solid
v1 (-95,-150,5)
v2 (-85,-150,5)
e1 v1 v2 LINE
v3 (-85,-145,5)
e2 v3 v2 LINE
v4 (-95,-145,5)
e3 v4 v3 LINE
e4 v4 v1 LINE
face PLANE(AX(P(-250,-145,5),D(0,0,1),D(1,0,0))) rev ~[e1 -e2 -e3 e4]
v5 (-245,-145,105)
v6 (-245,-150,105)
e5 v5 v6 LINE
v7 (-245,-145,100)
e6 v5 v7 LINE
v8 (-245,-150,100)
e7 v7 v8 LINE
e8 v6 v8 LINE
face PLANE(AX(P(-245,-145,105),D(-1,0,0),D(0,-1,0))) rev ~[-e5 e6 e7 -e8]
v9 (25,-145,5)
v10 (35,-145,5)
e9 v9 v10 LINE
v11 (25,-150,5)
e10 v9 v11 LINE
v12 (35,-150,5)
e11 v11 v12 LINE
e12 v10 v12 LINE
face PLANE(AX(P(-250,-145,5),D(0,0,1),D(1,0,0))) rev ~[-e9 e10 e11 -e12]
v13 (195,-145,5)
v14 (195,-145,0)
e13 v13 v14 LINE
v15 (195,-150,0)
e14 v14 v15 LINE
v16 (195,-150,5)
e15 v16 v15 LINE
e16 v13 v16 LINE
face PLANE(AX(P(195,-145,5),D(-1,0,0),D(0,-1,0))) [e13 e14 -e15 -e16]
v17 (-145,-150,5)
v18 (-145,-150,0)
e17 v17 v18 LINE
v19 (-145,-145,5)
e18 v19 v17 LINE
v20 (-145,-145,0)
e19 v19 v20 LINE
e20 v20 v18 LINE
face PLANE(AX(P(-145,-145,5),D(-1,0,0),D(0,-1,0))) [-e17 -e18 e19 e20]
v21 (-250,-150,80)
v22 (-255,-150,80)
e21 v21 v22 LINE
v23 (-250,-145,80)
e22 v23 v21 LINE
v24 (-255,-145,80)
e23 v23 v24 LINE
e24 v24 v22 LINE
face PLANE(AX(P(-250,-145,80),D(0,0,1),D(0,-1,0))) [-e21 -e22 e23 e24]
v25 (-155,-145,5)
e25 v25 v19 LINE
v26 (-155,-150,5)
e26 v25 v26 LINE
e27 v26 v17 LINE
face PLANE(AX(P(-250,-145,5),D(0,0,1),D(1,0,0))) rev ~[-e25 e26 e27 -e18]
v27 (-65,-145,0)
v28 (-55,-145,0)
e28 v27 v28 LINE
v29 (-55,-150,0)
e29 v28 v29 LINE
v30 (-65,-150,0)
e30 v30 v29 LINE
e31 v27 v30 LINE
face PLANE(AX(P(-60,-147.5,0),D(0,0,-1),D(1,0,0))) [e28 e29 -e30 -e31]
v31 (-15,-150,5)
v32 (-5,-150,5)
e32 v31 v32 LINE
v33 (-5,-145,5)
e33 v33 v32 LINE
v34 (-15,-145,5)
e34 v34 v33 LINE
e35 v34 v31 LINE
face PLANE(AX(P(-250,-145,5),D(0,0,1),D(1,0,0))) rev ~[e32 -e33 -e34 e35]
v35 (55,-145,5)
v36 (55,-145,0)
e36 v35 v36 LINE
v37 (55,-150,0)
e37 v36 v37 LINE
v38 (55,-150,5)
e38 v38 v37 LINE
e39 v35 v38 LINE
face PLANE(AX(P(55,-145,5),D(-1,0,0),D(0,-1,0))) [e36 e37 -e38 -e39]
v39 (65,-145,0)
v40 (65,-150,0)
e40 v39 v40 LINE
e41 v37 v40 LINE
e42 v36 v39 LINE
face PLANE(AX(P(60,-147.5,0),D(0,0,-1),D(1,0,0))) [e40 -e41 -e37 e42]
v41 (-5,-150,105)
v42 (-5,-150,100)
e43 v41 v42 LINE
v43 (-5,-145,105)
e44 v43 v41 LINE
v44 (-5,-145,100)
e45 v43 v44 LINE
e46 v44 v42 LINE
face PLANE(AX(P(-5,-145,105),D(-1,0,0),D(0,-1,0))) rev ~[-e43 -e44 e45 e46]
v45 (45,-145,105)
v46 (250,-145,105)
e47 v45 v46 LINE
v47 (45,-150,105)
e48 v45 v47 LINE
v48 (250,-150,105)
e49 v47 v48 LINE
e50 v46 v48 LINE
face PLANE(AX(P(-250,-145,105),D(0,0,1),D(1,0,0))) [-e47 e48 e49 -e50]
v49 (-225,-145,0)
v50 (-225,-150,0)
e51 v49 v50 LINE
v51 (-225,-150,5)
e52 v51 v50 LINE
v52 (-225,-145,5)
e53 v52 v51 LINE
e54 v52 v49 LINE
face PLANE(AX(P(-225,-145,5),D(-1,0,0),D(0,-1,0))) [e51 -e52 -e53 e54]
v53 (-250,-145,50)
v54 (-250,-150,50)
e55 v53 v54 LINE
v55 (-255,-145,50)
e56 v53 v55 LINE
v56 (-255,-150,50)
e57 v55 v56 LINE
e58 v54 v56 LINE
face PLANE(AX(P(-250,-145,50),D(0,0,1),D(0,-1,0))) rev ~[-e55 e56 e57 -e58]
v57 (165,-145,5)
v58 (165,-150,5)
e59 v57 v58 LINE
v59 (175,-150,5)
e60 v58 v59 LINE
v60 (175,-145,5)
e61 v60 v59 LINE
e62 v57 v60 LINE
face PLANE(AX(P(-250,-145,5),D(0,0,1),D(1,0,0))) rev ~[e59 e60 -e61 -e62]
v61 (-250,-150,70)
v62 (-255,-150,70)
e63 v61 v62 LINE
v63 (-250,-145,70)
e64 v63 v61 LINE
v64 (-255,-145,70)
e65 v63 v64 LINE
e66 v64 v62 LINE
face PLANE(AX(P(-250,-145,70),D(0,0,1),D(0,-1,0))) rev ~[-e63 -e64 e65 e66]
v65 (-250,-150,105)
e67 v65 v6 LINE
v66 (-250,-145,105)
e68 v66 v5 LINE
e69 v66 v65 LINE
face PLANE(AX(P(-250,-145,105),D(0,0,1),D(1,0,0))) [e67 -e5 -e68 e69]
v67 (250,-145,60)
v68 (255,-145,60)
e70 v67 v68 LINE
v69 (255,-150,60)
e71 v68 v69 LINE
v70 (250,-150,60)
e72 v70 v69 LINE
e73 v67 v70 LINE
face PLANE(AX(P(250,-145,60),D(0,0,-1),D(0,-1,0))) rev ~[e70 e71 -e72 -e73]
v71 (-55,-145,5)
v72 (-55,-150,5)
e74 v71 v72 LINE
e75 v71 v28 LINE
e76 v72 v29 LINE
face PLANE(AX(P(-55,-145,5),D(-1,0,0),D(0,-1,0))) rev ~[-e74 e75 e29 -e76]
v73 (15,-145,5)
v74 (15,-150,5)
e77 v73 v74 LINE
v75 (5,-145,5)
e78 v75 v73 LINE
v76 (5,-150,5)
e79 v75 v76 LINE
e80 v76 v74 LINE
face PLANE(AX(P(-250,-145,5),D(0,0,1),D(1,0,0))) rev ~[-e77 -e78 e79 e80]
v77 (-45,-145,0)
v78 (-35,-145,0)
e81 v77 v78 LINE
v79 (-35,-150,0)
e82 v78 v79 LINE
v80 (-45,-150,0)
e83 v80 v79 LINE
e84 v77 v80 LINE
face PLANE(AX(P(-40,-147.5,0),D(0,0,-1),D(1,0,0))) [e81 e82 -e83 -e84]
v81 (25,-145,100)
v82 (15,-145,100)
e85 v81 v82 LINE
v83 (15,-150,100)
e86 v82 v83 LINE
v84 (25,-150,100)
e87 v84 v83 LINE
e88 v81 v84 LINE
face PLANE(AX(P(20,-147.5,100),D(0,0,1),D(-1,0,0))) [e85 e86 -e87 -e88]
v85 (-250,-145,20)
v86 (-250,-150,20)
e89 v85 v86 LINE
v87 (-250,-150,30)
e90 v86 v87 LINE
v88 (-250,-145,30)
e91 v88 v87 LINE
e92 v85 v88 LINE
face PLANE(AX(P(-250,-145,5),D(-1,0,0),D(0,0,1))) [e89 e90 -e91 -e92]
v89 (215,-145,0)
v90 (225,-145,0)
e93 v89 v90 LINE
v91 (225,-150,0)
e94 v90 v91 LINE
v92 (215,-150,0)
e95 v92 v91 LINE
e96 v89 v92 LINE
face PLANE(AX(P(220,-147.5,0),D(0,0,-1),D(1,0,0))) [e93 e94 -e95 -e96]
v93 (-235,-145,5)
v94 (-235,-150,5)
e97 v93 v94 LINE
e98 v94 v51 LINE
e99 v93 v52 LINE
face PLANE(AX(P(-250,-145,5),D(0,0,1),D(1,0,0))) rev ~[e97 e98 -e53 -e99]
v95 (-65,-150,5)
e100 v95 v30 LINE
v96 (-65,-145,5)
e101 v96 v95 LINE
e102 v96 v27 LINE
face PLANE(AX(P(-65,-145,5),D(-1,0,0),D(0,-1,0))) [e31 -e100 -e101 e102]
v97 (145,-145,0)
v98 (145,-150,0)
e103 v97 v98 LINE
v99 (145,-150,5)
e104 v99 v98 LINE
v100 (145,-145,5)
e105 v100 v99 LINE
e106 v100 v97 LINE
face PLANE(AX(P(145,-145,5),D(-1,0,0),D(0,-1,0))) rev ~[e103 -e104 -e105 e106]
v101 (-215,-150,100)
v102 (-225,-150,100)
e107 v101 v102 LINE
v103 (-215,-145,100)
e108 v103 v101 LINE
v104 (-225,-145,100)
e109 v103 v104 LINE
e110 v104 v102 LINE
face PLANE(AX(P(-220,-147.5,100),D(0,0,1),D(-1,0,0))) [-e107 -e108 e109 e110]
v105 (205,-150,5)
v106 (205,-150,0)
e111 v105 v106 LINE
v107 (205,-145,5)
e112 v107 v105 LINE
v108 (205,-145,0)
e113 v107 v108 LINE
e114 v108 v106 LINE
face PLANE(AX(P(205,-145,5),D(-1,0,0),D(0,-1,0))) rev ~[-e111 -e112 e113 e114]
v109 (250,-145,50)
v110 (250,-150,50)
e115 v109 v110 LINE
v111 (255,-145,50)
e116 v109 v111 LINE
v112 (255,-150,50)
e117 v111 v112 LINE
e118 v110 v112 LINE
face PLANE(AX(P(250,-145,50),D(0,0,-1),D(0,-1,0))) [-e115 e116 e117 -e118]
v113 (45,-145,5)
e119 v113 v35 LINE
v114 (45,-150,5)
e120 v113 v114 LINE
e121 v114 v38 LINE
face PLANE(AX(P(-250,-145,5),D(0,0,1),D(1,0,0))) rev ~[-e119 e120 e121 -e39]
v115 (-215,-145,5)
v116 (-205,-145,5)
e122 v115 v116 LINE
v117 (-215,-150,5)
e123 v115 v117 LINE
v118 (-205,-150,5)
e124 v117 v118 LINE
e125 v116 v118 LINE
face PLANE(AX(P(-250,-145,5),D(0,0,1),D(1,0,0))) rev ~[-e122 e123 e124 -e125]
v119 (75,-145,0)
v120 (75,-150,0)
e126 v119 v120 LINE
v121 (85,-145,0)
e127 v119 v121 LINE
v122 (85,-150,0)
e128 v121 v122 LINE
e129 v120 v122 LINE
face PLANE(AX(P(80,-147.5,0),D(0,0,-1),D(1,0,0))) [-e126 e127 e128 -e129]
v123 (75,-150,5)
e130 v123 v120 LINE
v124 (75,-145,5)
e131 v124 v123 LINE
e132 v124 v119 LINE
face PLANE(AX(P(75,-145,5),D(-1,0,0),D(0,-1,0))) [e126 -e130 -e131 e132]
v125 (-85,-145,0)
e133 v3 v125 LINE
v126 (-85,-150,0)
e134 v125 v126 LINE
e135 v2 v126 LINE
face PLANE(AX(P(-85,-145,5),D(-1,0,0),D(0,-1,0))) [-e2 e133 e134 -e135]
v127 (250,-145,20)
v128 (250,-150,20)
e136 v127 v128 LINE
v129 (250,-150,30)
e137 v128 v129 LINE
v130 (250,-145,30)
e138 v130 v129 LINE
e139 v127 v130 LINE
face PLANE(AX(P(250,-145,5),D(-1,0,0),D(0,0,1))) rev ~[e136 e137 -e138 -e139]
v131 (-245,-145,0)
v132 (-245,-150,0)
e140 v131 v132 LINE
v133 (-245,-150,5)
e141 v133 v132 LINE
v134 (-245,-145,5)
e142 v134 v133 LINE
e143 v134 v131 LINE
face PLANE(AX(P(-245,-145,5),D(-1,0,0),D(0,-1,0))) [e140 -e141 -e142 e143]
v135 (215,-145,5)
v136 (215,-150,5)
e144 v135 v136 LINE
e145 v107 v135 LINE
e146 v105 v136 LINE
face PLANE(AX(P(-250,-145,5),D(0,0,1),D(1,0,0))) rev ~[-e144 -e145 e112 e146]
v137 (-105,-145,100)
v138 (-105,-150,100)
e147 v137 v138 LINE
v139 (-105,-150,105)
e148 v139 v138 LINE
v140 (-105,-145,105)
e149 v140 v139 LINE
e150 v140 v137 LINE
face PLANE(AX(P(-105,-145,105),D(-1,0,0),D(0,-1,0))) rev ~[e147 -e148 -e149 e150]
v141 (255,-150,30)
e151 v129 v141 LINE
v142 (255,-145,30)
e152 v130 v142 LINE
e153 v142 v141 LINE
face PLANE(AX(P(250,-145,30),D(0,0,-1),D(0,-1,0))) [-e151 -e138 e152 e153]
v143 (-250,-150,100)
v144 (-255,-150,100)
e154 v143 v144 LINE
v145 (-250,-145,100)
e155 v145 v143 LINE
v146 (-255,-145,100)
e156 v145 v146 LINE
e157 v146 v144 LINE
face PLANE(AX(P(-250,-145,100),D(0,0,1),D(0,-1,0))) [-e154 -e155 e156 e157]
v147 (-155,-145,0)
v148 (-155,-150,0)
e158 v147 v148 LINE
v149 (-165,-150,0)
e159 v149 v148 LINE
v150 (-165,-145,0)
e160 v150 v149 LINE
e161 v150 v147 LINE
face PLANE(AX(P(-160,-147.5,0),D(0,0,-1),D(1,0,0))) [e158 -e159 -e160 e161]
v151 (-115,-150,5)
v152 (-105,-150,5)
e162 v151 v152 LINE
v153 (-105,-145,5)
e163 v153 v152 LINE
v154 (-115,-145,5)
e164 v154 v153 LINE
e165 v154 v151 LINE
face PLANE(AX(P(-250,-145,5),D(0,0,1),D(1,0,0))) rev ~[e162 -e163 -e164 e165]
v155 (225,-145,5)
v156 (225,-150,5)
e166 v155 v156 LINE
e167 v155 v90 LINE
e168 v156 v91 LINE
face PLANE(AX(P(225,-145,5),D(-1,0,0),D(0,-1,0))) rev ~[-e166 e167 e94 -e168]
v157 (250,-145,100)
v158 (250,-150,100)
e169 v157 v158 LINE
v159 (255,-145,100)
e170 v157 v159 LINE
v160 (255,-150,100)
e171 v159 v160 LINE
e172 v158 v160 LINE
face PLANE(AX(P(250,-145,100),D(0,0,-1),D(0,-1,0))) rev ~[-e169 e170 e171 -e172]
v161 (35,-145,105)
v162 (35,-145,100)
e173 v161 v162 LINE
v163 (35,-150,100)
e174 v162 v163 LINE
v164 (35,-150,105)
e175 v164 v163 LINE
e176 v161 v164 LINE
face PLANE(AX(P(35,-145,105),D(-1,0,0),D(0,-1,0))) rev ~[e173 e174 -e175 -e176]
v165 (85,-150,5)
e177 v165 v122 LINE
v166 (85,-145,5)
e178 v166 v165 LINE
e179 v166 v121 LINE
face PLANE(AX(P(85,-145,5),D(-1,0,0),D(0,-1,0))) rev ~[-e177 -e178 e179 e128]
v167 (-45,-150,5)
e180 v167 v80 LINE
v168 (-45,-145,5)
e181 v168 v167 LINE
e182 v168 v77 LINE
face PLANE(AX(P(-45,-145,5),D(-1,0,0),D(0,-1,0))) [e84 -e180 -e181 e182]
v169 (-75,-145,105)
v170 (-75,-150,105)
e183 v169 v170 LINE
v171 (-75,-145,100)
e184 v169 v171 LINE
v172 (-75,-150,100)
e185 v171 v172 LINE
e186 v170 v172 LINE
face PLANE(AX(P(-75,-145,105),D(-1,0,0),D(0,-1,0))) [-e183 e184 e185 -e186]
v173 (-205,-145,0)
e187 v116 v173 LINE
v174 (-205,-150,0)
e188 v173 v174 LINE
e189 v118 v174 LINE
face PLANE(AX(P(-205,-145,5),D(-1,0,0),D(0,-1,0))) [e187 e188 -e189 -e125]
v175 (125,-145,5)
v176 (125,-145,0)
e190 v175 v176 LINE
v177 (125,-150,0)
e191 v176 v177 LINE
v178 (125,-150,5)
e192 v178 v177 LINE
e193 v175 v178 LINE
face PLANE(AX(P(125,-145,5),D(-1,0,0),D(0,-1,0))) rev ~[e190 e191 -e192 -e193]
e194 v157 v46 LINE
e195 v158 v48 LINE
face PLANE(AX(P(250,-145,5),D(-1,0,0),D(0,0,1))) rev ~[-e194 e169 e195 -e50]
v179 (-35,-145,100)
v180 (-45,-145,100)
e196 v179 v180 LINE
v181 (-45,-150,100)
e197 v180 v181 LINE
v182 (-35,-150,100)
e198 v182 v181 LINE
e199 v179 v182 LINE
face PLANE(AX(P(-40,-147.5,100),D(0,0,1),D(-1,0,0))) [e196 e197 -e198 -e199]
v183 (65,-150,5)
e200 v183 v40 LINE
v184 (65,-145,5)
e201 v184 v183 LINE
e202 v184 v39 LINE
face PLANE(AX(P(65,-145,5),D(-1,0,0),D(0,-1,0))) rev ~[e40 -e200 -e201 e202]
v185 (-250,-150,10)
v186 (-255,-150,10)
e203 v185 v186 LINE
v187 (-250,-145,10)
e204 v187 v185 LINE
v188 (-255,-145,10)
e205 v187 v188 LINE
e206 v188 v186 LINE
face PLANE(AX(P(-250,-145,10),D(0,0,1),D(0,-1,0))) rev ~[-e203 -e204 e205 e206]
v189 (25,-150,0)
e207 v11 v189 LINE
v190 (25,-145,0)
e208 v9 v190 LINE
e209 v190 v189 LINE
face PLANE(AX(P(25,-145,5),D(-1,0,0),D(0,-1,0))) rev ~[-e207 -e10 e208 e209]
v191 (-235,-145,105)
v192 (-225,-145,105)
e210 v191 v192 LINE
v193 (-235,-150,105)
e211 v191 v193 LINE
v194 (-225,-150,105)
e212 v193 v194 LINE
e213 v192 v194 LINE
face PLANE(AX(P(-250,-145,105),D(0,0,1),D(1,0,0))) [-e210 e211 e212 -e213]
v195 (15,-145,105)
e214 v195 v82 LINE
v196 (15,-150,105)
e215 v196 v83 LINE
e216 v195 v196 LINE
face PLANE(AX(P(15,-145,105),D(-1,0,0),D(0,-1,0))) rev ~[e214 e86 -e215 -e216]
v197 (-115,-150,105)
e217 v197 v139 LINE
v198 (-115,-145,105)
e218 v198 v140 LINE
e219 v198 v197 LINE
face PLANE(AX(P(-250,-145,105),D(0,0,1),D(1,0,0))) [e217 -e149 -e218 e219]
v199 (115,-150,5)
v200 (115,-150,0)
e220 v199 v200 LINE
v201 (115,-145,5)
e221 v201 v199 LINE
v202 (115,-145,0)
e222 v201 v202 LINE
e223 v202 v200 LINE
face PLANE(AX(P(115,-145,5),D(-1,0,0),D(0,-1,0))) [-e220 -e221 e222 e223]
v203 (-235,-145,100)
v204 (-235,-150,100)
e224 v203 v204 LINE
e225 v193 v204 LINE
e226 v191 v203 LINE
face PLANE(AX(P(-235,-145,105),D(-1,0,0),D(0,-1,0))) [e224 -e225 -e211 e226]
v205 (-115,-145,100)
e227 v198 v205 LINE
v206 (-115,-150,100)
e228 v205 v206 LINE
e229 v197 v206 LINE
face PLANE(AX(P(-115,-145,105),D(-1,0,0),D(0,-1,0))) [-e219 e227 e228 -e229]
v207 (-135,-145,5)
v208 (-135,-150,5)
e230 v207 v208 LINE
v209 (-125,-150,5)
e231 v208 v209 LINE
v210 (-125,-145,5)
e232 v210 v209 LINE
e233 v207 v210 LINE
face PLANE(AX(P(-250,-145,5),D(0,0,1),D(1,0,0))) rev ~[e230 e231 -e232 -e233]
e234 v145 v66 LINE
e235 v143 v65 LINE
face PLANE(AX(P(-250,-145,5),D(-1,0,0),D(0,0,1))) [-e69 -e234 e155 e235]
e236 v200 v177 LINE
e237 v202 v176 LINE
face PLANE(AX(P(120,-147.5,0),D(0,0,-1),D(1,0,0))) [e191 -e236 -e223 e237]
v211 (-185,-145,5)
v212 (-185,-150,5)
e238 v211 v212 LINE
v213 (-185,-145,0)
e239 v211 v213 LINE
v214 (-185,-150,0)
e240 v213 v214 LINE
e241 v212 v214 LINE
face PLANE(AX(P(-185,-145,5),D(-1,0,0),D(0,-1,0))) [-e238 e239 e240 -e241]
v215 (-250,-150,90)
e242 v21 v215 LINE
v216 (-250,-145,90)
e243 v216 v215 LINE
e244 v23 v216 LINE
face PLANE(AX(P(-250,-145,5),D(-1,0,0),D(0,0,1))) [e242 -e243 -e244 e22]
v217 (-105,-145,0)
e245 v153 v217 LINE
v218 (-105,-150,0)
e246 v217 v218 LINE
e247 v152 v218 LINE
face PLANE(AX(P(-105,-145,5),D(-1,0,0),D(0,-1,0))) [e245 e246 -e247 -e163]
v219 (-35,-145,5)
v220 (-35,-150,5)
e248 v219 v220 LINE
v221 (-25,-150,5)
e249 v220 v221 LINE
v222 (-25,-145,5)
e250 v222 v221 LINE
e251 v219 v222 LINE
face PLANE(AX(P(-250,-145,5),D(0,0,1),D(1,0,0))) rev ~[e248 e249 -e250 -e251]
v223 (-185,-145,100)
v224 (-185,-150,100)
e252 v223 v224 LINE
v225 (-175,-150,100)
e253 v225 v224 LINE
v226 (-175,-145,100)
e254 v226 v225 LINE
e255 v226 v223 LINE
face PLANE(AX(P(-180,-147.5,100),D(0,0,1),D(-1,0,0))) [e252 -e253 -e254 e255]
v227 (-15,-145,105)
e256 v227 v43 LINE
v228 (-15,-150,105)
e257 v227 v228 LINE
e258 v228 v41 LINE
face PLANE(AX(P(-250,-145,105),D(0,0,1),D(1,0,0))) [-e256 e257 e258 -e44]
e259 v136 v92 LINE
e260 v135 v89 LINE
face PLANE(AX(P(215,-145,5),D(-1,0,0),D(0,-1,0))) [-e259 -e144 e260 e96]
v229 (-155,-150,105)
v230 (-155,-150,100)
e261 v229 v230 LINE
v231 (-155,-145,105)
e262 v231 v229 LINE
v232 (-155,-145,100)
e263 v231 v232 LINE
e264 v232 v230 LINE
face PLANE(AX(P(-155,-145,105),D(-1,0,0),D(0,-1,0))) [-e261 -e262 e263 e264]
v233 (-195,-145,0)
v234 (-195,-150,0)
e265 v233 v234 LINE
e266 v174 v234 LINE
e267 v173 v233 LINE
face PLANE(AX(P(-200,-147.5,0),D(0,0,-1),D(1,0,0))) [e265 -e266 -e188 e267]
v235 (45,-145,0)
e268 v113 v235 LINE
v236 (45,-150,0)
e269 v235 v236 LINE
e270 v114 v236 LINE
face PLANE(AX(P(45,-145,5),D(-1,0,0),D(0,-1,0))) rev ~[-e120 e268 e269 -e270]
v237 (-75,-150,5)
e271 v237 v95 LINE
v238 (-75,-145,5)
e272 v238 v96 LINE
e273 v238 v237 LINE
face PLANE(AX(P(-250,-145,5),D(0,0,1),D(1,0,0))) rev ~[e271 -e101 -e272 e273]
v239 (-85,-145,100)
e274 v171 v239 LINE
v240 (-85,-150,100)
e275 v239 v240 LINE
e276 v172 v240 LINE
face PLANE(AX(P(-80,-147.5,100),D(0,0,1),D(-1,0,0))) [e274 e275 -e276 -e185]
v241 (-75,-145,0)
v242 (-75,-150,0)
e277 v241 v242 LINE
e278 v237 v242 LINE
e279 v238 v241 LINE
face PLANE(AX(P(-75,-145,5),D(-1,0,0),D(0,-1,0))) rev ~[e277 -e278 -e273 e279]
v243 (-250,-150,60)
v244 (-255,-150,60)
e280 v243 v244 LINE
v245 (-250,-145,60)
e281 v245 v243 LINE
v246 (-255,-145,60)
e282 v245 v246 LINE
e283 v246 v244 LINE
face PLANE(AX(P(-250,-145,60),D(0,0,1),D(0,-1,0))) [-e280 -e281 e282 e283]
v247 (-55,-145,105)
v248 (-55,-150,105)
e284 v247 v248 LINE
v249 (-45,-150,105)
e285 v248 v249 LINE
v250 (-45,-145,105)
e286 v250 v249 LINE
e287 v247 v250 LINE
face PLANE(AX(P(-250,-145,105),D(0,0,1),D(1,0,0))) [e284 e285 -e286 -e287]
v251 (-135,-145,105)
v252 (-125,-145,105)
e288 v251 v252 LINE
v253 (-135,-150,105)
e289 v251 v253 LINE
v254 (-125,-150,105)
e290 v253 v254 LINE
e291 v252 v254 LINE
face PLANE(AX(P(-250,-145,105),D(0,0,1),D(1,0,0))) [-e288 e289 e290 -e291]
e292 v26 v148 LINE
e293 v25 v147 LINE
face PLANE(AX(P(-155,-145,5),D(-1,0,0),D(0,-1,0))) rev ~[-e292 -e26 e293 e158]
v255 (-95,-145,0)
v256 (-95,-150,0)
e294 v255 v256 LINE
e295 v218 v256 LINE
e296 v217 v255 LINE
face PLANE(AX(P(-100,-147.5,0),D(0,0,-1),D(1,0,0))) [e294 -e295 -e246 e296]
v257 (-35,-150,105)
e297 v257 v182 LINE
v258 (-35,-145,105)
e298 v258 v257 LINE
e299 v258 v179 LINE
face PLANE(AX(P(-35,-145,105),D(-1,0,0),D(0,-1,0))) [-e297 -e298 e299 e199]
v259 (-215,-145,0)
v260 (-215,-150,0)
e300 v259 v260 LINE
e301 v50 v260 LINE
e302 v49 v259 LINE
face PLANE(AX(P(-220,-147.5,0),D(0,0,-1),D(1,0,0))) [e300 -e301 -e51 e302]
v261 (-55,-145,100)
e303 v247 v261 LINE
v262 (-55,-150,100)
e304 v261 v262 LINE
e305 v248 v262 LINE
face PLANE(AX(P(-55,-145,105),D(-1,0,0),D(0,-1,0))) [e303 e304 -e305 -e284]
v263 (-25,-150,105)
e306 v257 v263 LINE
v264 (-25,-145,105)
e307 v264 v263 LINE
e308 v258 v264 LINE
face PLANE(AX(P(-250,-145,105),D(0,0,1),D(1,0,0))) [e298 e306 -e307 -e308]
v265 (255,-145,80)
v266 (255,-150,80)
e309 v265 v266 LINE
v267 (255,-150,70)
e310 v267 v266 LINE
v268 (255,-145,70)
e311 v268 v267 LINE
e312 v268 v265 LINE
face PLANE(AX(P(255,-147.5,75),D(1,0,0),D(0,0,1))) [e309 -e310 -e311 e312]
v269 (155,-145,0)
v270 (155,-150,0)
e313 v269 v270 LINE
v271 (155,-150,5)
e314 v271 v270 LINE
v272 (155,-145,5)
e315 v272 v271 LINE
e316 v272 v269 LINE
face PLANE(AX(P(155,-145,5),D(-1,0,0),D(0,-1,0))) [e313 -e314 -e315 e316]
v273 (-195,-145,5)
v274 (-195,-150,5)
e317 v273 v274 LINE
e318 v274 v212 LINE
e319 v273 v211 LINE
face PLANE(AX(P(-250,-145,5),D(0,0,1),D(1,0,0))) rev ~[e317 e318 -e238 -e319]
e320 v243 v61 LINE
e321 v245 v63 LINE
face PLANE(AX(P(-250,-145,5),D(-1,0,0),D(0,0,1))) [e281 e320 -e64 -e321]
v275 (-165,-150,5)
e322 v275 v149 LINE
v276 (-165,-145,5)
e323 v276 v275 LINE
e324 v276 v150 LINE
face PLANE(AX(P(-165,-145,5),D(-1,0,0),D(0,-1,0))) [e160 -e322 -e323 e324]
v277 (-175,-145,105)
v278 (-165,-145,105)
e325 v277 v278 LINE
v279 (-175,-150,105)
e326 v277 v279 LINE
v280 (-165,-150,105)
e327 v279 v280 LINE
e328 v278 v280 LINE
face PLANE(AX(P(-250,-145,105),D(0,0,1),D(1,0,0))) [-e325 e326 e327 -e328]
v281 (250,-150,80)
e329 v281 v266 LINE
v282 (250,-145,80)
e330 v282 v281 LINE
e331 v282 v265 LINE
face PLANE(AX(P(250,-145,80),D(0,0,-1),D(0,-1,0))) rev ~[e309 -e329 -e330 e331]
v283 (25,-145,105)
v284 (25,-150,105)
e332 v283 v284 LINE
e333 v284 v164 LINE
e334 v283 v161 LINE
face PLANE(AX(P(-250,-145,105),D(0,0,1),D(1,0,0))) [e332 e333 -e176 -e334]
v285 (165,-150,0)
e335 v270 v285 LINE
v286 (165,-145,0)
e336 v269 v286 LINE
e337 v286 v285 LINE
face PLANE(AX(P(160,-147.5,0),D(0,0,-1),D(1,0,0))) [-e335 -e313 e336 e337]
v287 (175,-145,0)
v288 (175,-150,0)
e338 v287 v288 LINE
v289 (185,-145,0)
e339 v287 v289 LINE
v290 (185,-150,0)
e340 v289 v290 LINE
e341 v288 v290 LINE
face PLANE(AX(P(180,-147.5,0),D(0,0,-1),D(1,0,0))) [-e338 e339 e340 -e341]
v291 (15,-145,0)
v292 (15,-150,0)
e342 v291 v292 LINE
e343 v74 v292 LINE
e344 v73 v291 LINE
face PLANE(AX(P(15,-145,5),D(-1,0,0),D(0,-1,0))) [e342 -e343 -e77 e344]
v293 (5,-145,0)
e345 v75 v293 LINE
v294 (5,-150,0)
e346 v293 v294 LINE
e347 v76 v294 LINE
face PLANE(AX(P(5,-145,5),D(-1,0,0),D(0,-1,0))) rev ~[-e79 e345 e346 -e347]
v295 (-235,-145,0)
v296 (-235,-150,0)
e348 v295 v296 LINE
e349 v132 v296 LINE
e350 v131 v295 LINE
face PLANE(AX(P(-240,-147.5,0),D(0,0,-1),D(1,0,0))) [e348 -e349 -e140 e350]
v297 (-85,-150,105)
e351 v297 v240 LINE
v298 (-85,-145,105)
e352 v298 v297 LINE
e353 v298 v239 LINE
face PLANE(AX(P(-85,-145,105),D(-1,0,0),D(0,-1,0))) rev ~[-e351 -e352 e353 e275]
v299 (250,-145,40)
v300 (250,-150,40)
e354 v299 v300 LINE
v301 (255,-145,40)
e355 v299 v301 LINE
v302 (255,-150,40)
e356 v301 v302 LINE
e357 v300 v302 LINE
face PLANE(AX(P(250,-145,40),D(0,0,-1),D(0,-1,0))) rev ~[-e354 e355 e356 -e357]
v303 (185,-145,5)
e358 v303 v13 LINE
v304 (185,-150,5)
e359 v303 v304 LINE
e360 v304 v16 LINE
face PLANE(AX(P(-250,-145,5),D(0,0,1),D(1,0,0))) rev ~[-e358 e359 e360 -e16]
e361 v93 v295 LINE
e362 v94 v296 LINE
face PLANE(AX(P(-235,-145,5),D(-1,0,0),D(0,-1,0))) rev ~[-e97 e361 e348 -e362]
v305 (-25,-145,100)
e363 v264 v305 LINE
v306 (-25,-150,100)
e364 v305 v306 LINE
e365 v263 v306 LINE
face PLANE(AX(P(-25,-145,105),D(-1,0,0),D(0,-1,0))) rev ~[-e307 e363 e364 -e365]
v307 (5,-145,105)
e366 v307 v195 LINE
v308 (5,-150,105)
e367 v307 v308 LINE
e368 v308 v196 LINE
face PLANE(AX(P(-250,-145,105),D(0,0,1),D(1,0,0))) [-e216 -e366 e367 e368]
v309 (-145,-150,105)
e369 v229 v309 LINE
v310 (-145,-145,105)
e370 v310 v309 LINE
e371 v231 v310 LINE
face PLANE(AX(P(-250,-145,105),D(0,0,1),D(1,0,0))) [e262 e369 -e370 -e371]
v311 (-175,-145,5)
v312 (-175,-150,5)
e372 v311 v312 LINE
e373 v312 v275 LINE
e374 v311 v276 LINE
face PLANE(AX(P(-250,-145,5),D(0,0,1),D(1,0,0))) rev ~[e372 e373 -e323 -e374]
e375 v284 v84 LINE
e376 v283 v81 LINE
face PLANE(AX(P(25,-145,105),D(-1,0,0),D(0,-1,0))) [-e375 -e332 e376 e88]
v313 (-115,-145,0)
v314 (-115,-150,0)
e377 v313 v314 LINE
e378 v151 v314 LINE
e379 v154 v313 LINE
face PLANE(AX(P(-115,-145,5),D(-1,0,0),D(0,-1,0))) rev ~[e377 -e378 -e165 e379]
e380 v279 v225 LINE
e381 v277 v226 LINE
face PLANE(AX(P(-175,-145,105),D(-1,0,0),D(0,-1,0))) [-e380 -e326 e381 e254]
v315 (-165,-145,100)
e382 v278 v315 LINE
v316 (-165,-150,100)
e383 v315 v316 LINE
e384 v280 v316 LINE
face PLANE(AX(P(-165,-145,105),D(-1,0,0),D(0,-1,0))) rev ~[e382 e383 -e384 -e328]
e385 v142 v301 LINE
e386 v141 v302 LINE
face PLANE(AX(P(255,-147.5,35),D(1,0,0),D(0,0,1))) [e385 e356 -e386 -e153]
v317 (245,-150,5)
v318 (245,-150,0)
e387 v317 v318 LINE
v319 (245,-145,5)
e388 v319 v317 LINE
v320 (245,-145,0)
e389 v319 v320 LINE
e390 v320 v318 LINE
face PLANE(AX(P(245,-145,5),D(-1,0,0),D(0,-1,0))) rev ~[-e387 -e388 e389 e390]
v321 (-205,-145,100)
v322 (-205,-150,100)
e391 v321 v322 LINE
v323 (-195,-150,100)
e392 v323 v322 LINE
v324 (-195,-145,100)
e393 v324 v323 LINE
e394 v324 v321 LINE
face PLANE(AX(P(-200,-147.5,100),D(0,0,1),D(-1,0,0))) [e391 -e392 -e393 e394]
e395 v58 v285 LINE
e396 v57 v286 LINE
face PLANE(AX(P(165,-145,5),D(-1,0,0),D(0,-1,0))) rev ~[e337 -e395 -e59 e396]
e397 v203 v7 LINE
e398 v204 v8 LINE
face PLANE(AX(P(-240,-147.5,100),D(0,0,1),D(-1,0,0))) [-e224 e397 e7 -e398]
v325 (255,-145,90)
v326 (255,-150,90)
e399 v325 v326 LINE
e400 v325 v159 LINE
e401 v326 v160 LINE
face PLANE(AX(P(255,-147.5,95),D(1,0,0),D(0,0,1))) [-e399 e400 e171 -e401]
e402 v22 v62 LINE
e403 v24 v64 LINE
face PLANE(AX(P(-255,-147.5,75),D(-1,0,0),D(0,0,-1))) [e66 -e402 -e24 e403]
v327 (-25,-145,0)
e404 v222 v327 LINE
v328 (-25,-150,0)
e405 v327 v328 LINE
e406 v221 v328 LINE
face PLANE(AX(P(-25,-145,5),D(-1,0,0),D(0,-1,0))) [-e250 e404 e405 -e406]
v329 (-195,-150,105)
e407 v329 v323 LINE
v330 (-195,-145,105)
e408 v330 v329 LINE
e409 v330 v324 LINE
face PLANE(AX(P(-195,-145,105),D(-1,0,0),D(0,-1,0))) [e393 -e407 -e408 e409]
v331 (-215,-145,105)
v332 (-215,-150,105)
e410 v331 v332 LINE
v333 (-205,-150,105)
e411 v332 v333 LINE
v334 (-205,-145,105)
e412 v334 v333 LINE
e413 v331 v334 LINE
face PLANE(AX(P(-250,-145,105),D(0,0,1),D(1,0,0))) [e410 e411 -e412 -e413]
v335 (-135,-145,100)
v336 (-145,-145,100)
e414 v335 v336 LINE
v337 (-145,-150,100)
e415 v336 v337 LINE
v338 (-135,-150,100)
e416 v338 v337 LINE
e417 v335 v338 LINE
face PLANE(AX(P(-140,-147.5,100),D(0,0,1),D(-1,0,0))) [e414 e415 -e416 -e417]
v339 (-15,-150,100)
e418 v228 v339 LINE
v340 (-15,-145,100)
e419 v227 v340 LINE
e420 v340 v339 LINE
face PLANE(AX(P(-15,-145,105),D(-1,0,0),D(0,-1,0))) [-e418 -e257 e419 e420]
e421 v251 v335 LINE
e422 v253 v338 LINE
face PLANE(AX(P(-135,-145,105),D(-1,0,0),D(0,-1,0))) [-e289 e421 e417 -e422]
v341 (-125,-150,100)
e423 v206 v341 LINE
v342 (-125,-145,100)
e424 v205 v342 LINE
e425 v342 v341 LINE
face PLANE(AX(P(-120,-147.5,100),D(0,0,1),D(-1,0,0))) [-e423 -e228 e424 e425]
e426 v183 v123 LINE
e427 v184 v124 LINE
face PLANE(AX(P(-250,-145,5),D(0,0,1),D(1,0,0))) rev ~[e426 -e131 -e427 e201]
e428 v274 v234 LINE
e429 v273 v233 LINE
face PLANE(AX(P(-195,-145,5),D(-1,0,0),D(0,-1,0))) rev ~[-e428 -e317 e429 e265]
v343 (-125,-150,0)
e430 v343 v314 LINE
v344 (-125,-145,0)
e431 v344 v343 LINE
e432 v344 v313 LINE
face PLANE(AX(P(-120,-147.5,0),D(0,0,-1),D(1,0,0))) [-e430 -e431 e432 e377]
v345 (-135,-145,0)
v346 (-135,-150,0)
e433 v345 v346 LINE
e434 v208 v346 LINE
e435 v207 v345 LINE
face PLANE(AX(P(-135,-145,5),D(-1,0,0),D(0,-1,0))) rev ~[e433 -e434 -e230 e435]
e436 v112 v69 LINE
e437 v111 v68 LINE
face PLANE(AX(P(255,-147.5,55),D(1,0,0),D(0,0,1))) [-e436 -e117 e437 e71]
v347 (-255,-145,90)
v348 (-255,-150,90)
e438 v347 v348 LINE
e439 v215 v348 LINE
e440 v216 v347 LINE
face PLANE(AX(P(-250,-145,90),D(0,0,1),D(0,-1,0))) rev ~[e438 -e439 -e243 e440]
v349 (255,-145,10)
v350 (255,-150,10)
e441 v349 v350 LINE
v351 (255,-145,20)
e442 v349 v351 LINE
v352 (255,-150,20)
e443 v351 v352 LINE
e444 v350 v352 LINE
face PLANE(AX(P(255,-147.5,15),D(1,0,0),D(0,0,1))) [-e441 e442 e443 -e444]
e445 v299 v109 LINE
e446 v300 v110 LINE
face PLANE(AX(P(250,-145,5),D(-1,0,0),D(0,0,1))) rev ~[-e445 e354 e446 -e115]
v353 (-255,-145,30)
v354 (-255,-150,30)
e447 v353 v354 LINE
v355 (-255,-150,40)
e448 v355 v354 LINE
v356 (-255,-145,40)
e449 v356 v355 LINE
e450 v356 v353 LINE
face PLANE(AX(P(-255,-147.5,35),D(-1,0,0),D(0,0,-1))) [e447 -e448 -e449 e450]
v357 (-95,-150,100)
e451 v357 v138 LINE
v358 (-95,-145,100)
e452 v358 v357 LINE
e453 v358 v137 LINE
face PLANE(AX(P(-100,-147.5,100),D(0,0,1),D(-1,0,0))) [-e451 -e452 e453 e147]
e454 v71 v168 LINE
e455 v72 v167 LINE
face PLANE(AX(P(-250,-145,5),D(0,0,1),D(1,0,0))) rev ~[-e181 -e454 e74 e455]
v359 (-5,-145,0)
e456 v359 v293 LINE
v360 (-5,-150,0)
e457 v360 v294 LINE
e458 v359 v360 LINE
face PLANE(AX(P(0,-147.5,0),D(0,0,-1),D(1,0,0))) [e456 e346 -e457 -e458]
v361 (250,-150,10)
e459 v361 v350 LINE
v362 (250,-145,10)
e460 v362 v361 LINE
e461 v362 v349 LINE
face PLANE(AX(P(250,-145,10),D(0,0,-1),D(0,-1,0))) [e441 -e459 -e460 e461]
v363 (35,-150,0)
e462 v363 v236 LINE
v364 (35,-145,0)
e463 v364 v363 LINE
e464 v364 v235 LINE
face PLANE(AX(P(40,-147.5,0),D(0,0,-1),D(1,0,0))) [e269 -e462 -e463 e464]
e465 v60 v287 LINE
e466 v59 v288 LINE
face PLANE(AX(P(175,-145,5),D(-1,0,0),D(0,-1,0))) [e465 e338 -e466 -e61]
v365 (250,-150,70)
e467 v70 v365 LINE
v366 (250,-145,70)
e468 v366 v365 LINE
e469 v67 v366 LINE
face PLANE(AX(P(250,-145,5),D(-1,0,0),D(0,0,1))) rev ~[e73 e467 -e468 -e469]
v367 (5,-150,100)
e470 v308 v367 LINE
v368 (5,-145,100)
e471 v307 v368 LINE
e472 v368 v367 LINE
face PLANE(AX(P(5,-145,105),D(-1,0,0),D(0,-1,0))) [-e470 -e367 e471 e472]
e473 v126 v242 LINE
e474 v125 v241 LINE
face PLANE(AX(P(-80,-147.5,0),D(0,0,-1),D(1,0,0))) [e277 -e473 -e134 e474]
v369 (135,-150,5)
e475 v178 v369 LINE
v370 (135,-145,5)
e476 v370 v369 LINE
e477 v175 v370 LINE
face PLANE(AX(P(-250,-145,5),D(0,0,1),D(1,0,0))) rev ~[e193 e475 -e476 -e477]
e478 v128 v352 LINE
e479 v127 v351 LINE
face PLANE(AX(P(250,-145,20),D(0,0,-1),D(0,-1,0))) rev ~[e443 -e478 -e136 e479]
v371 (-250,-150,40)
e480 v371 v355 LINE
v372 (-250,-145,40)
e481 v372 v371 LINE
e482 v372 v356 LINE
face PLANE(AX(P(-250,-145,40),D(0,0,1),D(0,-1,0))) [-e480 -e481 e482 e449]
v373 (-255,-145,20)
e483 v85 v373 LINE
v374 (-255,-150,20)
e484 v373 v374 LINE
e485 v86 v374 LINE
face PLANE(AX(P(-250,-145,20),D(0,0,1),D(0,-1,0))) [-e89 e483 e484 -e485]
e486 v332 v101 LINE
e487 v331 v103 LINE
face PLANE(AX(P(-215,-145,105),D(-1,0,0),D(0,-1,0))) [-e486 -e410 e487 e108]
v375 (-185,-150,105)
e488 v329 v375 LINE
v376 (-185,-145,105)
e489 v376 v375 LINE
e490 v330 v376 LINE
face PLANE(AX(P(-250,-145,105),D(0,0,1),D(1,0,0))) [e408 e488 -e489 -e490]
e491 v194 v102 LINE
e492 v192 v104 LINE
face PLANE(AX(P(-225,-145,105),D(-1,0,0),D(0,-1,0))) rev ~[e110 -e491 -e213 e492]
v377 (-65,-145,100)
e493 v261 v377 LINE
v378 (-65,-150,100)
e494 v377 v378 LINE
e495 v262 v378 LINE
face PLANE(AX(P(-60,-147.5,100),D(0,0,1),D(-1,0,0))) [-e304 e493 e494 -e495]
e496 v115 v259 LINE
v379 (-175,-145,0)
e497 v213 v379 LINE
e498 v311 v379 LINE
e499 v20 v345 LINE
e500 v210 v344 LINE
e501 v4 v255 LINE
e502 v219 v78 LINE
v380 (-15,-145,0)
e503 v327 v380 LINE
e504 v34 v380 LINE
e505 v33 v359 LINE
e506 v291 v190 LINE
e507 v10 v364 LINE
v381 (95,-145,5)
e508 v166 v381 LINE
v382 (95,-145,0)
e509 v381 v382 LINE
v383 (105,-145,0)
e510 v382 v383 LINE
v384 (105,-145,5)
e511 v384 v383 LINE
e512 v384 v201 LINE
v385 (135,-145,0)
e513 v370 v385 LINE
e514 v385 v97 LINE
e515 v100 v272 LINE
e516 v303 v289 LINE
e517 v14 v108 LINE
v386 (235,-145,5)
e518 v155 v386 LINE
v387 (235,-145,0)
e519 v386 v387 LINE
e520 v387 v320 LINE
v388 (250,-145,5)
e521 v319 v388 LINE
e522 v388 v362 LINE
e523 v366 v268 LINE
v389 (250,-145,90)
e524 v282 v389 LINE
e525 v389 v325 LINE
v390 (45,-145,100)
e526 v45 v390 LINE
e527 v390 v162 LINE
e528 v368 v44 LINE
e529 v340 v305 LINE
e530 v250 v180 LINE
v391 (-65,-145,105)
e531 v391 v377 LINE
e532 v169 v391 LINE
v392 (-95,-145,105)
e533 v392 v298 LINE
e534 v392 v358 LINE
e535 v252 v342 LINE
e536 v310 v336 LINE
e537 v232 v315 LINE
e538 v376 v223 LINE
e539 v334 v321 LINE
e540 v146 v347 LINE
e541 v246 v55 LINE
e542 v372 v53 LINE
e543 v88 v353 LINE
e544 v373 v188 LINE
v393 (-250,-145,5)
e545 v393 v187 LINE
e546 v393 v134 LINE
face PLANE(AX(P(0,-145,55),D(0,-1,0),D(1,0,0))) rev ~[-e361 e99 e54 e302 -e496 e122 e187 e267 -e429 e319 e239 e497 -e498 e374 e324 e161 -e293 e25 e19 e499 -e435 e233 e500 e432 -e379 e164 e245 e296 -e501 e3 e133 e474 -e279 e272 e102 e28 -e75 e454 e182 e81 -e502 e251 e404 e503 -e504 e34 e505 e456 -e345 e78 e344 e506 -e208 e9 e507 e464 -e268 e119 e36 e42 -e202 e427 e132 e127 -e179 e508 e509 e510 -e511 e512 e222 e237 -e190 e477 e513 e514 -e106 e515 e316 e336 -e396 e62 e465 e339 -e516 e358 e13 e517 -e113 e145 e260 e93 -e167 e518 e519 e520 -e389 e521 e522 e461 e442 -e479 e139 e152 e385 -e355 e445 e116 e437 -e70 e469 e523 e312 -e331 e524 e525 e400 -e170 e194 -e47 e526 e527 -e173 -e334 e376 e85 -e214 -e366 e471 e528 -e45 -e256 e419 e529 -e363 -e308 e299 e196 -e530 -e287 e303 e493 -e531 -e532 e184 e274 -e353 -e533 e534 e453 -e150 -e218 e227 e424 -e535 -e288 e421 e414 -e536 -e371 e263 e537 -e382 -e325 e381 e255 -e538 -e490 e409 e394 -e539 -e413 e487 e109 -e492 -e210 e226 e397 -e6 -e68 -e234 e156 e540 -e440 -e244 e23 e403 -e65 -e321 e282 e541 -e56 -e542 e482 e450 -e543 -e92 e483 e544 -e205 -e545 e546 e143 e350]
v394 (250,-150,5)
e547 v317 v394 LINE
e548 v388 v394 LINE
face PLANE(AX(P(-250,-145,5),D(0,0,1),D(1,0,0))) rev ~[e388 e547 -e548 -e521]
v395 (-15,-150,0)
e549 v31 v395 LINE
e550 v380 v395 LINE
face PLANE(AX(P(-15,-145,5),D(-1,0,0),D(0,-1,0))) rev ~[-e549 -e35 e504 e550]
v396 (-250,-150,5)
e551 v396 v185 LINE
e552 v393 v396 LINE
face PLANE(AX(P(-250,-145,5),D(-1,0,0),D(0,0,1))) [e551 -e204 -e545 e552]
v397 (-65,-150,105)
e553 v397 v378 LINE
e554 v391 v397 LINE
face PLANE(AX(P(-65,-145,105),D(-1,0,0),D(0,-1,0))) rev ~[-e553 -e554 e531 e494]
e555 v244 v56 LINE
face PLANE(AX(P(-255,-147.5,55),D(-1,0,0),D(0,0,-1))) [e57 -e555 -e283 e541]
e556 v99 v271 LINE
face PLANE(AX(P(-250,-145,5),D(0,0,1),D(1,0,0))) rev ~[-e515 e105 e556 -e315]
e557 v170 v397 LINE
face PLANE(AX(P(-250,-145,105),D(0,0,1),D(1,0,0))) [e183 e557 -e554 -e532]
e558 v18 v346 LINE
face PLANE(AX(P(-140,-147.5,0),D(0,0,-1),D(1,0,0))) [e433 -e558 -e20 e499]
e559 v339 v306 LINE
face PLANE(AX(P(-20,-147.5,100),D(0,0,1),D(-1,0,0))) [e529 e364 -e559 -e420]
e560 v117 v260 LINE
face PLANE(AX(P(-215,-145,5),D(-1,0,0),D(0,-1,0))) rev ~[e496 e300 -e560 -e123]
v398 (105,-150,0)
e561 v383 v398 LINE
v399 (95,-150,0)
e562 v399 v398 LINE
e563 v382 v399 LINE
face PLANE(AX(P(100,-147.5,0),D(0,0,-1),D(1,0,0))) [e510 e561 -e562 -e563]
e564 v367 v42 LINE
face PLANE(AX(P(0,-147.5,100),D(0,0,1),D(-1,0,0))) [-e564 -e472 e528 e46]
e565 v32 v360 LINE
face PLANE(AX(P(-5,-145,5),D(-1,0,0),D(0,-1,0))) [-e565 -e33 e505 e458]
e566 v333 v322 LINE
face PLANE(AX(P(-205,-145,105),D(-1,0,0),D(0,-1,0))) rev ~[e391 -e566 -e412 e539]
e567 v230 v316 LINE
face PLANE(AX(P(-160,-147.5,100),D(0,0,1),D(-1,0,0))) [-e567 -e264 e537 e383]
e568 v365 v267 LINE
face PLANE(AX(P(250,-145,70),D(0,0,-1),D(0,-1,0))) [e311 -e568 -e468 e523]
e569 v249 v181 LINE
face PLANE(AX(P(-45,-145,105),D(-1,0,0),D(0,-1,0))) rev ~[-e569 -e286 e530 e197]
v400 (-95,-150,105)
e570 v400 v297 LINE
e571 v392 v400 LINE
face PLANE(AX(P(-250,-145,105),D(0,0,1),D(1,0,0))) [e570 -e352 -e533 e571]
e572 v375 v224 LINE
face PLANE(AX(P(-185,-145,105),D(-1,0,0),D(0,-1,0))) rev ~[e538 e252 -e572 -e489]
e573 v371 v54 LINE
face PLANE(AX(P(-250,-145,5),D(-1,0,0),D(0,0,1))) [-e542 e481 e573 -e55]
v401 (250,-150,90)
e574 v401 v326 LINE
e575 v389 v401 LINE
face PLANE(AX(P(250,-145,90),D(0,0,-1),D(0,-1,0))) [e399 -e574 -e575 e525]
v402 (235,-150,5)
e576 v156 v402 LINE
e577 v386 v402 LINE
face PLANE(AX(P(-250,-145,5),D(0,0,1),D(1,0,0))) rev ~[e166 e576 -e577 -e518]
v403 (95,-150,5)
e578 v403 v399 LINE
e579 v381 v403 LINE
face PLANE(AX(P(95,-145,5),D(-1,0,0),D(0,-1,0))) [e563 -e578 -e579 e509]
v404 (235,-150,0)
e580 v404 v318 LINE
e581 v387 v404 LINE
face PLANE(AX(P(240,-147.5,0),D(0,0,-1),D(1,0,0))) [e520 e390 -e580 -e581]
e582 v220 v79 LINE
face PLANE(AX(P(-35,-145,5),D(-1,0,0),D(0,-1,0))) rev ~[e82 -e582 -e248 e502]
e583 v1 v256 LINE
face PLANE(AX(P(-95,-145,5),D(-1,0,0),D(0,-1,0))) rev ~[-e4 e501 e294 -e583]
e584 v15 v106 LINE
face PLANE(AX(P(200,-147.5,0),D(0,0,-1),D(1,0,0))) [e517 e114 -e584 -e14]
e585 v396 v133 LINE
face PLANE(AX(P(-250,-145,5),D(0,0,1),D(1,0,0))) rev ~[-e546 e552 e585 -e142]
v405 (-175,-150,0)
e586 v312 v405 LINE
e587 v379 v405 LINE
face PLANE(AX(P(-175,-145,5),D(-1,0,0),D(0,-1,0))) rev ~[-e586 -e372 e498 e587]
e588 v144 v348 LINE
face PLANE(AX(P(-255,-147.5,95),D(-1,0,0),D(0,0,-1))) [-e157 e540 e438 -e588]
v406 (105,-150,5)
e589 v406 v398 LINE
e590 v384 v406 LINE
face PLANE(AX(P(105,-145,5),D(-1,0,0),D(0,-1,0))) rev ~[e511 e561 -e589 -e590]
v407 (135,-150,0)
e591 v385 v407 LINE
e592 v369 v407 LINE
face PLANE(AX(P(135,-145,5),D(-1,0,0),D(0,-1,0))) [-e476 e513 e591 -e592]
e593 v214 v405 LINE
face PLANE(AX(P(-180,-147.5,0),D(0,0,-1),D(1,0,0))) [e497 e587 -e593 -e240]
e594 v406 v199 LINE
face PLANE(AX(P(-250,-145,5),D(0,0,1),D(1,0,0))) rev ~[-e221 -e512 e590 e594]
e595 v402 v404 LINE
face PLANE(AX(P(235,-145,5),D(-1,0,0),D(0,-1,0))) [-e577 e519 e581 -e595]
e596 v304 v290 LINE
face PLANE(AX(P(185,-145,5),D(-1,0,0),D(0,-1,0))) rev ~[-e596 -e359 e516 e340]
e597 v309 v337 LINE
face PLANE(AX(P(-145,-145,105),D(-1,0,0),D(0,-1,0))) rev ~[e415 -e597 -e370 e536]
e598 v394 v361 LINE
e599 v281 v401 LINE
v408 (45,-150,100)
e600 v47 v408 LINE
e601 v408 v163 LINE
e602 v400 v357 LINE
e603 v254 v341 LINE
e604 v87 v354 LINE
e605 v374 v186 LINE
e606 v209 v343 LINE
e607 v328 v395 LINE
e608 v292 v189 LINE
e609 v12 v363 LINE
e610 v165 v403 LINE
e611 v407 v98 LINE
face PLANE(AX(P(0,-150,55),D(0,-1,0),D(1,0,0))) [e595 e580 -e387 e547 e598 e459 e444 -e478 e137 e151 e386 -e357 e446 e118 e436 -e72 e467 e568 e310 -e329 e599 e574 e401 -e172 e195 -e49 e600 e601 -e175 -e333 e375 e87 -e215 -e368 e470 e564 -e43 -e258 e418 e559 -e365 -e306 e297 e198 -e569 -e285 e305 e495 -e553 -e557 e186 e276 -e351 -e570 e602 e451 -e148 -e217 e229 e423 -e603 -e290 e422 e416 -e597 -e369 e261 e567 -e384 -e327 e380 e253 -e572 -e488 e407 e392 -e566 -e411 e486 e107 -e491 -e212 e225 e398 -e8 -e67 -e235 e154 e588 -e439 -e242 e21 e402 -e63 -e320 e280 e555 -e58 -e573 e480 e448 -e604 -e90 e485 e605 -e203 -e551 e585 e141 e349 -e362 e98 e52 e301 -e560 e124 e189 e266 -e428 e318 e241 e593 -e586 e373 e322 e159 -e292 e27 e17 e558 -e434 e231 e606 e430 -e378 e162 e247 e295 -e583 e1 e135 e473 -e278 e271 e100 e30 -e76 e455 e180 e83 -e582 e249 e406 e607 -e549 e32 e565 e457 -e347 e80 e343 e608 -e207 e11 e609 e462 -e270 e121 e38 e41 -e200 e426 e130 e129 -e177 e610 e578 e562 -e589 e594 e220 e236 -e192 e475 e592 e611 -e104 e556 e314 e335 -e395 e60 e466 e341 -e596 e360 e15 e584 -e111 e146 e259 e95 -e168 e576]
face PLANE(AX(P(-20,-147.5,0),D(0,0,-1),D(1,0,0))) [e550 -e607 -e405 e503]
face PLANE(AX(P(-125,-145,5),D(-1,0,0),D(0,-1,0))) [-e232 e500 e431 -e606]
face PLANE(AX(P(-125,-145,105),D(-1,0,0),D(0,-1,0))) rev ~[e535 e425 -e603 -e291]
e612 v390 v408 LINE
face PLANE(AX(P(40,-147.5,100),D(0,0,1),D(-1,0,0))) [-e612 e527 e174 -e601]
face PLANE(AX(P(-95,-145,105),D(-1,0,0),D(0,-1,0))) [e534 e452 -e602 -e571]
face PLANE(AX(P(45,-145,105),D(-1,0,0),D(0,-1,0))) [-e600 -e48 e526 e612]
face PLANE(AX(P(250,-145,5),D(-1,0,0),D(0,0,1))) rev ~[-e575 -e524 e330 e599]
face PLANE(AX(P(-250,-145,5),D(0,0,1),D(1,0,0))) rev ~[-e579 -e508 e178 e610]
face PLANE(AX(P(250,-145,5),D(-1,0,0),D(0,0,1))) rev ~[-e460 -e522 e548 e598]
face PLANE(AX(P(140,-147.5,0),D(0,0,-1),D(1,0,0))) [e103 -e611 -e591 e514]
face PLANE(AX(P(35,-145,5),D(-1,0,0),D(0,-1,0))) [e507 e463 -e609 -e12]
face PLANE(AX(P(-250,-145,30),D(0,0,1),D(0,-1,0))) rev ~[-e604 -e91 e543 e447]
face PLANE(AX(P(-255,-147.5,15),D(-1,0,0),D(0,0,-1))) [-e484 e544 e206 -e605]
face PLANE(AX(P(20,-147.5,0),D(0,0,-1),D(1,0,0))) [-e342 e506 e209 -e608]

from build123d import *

# Parameters (mm, degrees)
SKETCH003_W             = 500
SKETCH003_H             = 100
PAD003_DEPTH            = 5
SKETCH025_W             = 10
SKETCH025_H             = 5
PAD023_DEPTH            = 5
LINEARPATTERN005_COUNT  = 25
LINEARPATTERN005_PITCH  = 20
SKETCH026_W             = 10
SKETCH026_H             = 5
PAD024_DEPTH            = 5
LINEARPATTERN006_COUNT  = 5
LINEARPATTERN006_PITCH  = 20
SKETCH027_W             = 10
SKETCH027_H             = 5
PAD025_DEPTH            = 5
LINEARPATTERN007_COUNT  = 5
LINEARPATTERN007_PITCH  = 20
SKETCH122_W             = 10
SKETCH122_H             = 5
POCKET032_DEPTH         = 5
LINEARPATTERN074_COUNT  = 15
LINEARPATTERN074_PITCH  = 20
BODY003_PLACEMENT_ANGLE = 90


with BuildPart() as part:
    # Sketch003 → Pad003 (new body)
    with BuildSketch(Plane.XY):
        Rectangle(SKETCH003_W, SKETCH003_H)
    extrude(amount=PAD003_DEPTH)

    # Sketch025 (on DatumPlane) → Pad023 (join)
    with BuildSketch(Plane.XZ.offset(50)):
        with Locations((-240, 2.5)):
            Rectangle(SKETCH025_W, SKETCH025_H)
    pad023 = extrude(amount=PAD023_DEPTH)

    # LinearPattern005: Pad023 ×25
    with Locations(*[(i * LINEARPATTERN005_PITCH, 0, 0) for i in range(1, LINEARPATTERN005_COUNT)]):
        add(pad023)

    # Sketch026 (on DatumPlane) → Pad024 (join)
    with BuildSketch(Plane.YZ.offset(250)):
        with Locations((-40, 2.5)):
            Rectangle(SKETCH026_W, SKETCH026_H)
    pad024 = extrude(amount=PAD024_DEPTH)

    # LinearPattern006: Pad024 ×5
    with Locations(*[(0, i * LINEARPATTERN006_PITCH, 0) for i in range(1, LINEARPATTERN006_COUNT)]):
        add(pad024)

    # Sketch027 (on DatumPlane) → Pad025 (join)
    with BuildSketch(Plane(origin=(-250, 0, 0), x_dir=(0, -1, 0), z_dir=(-1, 0, 0))):
        with Locations((-40, 2.5)):
            Rectangle(SKETCH027_W, SKETCH027_H)
    pad025 = extrude(amount=PAD025_DEPTH)

    # LinearPattern007: Pad025 ×5
    with Locations(*[(0, -i * LINEARPATTERN007_PITCH, 0) for i in range(1, LINEARPATTERN007_COUNT)]):
        add(pad025)

    # Sketch122 (on DatumPlane) → Pocket032 (cut)
    with BuildSketch(Plane(origin=(0, 50, 0), x_dir=(-1, 0, 0), z_dir=(0, 1, 0))):
        with Locations((240, 2.5)):
            Rectangle(SKETCH122_W, SKETCH122_H)
    pocket032 = extrude(amount=-POCKET032_DEPTH, mode=Mode.SUBTRACT)

    # LinearPattern074: Pocket032 ×15
    with Locations(*[(i * LINEARPATTERN074_PITCH, 0, 0) for i in range(1, LINEARPATTERN074_COUNT)]):
        add(pocket032, mode=Mode.SUBTRACT)


with BuildPart() as part_1:
    # Body003 placement: moved
    add(part.part.moved(Location((0, -145, 55))).rotate(Axis((0, -145, 55), (1, 0, 0)), BODY003_PLACEMENT_ANGLE))


solid = part_1.part
